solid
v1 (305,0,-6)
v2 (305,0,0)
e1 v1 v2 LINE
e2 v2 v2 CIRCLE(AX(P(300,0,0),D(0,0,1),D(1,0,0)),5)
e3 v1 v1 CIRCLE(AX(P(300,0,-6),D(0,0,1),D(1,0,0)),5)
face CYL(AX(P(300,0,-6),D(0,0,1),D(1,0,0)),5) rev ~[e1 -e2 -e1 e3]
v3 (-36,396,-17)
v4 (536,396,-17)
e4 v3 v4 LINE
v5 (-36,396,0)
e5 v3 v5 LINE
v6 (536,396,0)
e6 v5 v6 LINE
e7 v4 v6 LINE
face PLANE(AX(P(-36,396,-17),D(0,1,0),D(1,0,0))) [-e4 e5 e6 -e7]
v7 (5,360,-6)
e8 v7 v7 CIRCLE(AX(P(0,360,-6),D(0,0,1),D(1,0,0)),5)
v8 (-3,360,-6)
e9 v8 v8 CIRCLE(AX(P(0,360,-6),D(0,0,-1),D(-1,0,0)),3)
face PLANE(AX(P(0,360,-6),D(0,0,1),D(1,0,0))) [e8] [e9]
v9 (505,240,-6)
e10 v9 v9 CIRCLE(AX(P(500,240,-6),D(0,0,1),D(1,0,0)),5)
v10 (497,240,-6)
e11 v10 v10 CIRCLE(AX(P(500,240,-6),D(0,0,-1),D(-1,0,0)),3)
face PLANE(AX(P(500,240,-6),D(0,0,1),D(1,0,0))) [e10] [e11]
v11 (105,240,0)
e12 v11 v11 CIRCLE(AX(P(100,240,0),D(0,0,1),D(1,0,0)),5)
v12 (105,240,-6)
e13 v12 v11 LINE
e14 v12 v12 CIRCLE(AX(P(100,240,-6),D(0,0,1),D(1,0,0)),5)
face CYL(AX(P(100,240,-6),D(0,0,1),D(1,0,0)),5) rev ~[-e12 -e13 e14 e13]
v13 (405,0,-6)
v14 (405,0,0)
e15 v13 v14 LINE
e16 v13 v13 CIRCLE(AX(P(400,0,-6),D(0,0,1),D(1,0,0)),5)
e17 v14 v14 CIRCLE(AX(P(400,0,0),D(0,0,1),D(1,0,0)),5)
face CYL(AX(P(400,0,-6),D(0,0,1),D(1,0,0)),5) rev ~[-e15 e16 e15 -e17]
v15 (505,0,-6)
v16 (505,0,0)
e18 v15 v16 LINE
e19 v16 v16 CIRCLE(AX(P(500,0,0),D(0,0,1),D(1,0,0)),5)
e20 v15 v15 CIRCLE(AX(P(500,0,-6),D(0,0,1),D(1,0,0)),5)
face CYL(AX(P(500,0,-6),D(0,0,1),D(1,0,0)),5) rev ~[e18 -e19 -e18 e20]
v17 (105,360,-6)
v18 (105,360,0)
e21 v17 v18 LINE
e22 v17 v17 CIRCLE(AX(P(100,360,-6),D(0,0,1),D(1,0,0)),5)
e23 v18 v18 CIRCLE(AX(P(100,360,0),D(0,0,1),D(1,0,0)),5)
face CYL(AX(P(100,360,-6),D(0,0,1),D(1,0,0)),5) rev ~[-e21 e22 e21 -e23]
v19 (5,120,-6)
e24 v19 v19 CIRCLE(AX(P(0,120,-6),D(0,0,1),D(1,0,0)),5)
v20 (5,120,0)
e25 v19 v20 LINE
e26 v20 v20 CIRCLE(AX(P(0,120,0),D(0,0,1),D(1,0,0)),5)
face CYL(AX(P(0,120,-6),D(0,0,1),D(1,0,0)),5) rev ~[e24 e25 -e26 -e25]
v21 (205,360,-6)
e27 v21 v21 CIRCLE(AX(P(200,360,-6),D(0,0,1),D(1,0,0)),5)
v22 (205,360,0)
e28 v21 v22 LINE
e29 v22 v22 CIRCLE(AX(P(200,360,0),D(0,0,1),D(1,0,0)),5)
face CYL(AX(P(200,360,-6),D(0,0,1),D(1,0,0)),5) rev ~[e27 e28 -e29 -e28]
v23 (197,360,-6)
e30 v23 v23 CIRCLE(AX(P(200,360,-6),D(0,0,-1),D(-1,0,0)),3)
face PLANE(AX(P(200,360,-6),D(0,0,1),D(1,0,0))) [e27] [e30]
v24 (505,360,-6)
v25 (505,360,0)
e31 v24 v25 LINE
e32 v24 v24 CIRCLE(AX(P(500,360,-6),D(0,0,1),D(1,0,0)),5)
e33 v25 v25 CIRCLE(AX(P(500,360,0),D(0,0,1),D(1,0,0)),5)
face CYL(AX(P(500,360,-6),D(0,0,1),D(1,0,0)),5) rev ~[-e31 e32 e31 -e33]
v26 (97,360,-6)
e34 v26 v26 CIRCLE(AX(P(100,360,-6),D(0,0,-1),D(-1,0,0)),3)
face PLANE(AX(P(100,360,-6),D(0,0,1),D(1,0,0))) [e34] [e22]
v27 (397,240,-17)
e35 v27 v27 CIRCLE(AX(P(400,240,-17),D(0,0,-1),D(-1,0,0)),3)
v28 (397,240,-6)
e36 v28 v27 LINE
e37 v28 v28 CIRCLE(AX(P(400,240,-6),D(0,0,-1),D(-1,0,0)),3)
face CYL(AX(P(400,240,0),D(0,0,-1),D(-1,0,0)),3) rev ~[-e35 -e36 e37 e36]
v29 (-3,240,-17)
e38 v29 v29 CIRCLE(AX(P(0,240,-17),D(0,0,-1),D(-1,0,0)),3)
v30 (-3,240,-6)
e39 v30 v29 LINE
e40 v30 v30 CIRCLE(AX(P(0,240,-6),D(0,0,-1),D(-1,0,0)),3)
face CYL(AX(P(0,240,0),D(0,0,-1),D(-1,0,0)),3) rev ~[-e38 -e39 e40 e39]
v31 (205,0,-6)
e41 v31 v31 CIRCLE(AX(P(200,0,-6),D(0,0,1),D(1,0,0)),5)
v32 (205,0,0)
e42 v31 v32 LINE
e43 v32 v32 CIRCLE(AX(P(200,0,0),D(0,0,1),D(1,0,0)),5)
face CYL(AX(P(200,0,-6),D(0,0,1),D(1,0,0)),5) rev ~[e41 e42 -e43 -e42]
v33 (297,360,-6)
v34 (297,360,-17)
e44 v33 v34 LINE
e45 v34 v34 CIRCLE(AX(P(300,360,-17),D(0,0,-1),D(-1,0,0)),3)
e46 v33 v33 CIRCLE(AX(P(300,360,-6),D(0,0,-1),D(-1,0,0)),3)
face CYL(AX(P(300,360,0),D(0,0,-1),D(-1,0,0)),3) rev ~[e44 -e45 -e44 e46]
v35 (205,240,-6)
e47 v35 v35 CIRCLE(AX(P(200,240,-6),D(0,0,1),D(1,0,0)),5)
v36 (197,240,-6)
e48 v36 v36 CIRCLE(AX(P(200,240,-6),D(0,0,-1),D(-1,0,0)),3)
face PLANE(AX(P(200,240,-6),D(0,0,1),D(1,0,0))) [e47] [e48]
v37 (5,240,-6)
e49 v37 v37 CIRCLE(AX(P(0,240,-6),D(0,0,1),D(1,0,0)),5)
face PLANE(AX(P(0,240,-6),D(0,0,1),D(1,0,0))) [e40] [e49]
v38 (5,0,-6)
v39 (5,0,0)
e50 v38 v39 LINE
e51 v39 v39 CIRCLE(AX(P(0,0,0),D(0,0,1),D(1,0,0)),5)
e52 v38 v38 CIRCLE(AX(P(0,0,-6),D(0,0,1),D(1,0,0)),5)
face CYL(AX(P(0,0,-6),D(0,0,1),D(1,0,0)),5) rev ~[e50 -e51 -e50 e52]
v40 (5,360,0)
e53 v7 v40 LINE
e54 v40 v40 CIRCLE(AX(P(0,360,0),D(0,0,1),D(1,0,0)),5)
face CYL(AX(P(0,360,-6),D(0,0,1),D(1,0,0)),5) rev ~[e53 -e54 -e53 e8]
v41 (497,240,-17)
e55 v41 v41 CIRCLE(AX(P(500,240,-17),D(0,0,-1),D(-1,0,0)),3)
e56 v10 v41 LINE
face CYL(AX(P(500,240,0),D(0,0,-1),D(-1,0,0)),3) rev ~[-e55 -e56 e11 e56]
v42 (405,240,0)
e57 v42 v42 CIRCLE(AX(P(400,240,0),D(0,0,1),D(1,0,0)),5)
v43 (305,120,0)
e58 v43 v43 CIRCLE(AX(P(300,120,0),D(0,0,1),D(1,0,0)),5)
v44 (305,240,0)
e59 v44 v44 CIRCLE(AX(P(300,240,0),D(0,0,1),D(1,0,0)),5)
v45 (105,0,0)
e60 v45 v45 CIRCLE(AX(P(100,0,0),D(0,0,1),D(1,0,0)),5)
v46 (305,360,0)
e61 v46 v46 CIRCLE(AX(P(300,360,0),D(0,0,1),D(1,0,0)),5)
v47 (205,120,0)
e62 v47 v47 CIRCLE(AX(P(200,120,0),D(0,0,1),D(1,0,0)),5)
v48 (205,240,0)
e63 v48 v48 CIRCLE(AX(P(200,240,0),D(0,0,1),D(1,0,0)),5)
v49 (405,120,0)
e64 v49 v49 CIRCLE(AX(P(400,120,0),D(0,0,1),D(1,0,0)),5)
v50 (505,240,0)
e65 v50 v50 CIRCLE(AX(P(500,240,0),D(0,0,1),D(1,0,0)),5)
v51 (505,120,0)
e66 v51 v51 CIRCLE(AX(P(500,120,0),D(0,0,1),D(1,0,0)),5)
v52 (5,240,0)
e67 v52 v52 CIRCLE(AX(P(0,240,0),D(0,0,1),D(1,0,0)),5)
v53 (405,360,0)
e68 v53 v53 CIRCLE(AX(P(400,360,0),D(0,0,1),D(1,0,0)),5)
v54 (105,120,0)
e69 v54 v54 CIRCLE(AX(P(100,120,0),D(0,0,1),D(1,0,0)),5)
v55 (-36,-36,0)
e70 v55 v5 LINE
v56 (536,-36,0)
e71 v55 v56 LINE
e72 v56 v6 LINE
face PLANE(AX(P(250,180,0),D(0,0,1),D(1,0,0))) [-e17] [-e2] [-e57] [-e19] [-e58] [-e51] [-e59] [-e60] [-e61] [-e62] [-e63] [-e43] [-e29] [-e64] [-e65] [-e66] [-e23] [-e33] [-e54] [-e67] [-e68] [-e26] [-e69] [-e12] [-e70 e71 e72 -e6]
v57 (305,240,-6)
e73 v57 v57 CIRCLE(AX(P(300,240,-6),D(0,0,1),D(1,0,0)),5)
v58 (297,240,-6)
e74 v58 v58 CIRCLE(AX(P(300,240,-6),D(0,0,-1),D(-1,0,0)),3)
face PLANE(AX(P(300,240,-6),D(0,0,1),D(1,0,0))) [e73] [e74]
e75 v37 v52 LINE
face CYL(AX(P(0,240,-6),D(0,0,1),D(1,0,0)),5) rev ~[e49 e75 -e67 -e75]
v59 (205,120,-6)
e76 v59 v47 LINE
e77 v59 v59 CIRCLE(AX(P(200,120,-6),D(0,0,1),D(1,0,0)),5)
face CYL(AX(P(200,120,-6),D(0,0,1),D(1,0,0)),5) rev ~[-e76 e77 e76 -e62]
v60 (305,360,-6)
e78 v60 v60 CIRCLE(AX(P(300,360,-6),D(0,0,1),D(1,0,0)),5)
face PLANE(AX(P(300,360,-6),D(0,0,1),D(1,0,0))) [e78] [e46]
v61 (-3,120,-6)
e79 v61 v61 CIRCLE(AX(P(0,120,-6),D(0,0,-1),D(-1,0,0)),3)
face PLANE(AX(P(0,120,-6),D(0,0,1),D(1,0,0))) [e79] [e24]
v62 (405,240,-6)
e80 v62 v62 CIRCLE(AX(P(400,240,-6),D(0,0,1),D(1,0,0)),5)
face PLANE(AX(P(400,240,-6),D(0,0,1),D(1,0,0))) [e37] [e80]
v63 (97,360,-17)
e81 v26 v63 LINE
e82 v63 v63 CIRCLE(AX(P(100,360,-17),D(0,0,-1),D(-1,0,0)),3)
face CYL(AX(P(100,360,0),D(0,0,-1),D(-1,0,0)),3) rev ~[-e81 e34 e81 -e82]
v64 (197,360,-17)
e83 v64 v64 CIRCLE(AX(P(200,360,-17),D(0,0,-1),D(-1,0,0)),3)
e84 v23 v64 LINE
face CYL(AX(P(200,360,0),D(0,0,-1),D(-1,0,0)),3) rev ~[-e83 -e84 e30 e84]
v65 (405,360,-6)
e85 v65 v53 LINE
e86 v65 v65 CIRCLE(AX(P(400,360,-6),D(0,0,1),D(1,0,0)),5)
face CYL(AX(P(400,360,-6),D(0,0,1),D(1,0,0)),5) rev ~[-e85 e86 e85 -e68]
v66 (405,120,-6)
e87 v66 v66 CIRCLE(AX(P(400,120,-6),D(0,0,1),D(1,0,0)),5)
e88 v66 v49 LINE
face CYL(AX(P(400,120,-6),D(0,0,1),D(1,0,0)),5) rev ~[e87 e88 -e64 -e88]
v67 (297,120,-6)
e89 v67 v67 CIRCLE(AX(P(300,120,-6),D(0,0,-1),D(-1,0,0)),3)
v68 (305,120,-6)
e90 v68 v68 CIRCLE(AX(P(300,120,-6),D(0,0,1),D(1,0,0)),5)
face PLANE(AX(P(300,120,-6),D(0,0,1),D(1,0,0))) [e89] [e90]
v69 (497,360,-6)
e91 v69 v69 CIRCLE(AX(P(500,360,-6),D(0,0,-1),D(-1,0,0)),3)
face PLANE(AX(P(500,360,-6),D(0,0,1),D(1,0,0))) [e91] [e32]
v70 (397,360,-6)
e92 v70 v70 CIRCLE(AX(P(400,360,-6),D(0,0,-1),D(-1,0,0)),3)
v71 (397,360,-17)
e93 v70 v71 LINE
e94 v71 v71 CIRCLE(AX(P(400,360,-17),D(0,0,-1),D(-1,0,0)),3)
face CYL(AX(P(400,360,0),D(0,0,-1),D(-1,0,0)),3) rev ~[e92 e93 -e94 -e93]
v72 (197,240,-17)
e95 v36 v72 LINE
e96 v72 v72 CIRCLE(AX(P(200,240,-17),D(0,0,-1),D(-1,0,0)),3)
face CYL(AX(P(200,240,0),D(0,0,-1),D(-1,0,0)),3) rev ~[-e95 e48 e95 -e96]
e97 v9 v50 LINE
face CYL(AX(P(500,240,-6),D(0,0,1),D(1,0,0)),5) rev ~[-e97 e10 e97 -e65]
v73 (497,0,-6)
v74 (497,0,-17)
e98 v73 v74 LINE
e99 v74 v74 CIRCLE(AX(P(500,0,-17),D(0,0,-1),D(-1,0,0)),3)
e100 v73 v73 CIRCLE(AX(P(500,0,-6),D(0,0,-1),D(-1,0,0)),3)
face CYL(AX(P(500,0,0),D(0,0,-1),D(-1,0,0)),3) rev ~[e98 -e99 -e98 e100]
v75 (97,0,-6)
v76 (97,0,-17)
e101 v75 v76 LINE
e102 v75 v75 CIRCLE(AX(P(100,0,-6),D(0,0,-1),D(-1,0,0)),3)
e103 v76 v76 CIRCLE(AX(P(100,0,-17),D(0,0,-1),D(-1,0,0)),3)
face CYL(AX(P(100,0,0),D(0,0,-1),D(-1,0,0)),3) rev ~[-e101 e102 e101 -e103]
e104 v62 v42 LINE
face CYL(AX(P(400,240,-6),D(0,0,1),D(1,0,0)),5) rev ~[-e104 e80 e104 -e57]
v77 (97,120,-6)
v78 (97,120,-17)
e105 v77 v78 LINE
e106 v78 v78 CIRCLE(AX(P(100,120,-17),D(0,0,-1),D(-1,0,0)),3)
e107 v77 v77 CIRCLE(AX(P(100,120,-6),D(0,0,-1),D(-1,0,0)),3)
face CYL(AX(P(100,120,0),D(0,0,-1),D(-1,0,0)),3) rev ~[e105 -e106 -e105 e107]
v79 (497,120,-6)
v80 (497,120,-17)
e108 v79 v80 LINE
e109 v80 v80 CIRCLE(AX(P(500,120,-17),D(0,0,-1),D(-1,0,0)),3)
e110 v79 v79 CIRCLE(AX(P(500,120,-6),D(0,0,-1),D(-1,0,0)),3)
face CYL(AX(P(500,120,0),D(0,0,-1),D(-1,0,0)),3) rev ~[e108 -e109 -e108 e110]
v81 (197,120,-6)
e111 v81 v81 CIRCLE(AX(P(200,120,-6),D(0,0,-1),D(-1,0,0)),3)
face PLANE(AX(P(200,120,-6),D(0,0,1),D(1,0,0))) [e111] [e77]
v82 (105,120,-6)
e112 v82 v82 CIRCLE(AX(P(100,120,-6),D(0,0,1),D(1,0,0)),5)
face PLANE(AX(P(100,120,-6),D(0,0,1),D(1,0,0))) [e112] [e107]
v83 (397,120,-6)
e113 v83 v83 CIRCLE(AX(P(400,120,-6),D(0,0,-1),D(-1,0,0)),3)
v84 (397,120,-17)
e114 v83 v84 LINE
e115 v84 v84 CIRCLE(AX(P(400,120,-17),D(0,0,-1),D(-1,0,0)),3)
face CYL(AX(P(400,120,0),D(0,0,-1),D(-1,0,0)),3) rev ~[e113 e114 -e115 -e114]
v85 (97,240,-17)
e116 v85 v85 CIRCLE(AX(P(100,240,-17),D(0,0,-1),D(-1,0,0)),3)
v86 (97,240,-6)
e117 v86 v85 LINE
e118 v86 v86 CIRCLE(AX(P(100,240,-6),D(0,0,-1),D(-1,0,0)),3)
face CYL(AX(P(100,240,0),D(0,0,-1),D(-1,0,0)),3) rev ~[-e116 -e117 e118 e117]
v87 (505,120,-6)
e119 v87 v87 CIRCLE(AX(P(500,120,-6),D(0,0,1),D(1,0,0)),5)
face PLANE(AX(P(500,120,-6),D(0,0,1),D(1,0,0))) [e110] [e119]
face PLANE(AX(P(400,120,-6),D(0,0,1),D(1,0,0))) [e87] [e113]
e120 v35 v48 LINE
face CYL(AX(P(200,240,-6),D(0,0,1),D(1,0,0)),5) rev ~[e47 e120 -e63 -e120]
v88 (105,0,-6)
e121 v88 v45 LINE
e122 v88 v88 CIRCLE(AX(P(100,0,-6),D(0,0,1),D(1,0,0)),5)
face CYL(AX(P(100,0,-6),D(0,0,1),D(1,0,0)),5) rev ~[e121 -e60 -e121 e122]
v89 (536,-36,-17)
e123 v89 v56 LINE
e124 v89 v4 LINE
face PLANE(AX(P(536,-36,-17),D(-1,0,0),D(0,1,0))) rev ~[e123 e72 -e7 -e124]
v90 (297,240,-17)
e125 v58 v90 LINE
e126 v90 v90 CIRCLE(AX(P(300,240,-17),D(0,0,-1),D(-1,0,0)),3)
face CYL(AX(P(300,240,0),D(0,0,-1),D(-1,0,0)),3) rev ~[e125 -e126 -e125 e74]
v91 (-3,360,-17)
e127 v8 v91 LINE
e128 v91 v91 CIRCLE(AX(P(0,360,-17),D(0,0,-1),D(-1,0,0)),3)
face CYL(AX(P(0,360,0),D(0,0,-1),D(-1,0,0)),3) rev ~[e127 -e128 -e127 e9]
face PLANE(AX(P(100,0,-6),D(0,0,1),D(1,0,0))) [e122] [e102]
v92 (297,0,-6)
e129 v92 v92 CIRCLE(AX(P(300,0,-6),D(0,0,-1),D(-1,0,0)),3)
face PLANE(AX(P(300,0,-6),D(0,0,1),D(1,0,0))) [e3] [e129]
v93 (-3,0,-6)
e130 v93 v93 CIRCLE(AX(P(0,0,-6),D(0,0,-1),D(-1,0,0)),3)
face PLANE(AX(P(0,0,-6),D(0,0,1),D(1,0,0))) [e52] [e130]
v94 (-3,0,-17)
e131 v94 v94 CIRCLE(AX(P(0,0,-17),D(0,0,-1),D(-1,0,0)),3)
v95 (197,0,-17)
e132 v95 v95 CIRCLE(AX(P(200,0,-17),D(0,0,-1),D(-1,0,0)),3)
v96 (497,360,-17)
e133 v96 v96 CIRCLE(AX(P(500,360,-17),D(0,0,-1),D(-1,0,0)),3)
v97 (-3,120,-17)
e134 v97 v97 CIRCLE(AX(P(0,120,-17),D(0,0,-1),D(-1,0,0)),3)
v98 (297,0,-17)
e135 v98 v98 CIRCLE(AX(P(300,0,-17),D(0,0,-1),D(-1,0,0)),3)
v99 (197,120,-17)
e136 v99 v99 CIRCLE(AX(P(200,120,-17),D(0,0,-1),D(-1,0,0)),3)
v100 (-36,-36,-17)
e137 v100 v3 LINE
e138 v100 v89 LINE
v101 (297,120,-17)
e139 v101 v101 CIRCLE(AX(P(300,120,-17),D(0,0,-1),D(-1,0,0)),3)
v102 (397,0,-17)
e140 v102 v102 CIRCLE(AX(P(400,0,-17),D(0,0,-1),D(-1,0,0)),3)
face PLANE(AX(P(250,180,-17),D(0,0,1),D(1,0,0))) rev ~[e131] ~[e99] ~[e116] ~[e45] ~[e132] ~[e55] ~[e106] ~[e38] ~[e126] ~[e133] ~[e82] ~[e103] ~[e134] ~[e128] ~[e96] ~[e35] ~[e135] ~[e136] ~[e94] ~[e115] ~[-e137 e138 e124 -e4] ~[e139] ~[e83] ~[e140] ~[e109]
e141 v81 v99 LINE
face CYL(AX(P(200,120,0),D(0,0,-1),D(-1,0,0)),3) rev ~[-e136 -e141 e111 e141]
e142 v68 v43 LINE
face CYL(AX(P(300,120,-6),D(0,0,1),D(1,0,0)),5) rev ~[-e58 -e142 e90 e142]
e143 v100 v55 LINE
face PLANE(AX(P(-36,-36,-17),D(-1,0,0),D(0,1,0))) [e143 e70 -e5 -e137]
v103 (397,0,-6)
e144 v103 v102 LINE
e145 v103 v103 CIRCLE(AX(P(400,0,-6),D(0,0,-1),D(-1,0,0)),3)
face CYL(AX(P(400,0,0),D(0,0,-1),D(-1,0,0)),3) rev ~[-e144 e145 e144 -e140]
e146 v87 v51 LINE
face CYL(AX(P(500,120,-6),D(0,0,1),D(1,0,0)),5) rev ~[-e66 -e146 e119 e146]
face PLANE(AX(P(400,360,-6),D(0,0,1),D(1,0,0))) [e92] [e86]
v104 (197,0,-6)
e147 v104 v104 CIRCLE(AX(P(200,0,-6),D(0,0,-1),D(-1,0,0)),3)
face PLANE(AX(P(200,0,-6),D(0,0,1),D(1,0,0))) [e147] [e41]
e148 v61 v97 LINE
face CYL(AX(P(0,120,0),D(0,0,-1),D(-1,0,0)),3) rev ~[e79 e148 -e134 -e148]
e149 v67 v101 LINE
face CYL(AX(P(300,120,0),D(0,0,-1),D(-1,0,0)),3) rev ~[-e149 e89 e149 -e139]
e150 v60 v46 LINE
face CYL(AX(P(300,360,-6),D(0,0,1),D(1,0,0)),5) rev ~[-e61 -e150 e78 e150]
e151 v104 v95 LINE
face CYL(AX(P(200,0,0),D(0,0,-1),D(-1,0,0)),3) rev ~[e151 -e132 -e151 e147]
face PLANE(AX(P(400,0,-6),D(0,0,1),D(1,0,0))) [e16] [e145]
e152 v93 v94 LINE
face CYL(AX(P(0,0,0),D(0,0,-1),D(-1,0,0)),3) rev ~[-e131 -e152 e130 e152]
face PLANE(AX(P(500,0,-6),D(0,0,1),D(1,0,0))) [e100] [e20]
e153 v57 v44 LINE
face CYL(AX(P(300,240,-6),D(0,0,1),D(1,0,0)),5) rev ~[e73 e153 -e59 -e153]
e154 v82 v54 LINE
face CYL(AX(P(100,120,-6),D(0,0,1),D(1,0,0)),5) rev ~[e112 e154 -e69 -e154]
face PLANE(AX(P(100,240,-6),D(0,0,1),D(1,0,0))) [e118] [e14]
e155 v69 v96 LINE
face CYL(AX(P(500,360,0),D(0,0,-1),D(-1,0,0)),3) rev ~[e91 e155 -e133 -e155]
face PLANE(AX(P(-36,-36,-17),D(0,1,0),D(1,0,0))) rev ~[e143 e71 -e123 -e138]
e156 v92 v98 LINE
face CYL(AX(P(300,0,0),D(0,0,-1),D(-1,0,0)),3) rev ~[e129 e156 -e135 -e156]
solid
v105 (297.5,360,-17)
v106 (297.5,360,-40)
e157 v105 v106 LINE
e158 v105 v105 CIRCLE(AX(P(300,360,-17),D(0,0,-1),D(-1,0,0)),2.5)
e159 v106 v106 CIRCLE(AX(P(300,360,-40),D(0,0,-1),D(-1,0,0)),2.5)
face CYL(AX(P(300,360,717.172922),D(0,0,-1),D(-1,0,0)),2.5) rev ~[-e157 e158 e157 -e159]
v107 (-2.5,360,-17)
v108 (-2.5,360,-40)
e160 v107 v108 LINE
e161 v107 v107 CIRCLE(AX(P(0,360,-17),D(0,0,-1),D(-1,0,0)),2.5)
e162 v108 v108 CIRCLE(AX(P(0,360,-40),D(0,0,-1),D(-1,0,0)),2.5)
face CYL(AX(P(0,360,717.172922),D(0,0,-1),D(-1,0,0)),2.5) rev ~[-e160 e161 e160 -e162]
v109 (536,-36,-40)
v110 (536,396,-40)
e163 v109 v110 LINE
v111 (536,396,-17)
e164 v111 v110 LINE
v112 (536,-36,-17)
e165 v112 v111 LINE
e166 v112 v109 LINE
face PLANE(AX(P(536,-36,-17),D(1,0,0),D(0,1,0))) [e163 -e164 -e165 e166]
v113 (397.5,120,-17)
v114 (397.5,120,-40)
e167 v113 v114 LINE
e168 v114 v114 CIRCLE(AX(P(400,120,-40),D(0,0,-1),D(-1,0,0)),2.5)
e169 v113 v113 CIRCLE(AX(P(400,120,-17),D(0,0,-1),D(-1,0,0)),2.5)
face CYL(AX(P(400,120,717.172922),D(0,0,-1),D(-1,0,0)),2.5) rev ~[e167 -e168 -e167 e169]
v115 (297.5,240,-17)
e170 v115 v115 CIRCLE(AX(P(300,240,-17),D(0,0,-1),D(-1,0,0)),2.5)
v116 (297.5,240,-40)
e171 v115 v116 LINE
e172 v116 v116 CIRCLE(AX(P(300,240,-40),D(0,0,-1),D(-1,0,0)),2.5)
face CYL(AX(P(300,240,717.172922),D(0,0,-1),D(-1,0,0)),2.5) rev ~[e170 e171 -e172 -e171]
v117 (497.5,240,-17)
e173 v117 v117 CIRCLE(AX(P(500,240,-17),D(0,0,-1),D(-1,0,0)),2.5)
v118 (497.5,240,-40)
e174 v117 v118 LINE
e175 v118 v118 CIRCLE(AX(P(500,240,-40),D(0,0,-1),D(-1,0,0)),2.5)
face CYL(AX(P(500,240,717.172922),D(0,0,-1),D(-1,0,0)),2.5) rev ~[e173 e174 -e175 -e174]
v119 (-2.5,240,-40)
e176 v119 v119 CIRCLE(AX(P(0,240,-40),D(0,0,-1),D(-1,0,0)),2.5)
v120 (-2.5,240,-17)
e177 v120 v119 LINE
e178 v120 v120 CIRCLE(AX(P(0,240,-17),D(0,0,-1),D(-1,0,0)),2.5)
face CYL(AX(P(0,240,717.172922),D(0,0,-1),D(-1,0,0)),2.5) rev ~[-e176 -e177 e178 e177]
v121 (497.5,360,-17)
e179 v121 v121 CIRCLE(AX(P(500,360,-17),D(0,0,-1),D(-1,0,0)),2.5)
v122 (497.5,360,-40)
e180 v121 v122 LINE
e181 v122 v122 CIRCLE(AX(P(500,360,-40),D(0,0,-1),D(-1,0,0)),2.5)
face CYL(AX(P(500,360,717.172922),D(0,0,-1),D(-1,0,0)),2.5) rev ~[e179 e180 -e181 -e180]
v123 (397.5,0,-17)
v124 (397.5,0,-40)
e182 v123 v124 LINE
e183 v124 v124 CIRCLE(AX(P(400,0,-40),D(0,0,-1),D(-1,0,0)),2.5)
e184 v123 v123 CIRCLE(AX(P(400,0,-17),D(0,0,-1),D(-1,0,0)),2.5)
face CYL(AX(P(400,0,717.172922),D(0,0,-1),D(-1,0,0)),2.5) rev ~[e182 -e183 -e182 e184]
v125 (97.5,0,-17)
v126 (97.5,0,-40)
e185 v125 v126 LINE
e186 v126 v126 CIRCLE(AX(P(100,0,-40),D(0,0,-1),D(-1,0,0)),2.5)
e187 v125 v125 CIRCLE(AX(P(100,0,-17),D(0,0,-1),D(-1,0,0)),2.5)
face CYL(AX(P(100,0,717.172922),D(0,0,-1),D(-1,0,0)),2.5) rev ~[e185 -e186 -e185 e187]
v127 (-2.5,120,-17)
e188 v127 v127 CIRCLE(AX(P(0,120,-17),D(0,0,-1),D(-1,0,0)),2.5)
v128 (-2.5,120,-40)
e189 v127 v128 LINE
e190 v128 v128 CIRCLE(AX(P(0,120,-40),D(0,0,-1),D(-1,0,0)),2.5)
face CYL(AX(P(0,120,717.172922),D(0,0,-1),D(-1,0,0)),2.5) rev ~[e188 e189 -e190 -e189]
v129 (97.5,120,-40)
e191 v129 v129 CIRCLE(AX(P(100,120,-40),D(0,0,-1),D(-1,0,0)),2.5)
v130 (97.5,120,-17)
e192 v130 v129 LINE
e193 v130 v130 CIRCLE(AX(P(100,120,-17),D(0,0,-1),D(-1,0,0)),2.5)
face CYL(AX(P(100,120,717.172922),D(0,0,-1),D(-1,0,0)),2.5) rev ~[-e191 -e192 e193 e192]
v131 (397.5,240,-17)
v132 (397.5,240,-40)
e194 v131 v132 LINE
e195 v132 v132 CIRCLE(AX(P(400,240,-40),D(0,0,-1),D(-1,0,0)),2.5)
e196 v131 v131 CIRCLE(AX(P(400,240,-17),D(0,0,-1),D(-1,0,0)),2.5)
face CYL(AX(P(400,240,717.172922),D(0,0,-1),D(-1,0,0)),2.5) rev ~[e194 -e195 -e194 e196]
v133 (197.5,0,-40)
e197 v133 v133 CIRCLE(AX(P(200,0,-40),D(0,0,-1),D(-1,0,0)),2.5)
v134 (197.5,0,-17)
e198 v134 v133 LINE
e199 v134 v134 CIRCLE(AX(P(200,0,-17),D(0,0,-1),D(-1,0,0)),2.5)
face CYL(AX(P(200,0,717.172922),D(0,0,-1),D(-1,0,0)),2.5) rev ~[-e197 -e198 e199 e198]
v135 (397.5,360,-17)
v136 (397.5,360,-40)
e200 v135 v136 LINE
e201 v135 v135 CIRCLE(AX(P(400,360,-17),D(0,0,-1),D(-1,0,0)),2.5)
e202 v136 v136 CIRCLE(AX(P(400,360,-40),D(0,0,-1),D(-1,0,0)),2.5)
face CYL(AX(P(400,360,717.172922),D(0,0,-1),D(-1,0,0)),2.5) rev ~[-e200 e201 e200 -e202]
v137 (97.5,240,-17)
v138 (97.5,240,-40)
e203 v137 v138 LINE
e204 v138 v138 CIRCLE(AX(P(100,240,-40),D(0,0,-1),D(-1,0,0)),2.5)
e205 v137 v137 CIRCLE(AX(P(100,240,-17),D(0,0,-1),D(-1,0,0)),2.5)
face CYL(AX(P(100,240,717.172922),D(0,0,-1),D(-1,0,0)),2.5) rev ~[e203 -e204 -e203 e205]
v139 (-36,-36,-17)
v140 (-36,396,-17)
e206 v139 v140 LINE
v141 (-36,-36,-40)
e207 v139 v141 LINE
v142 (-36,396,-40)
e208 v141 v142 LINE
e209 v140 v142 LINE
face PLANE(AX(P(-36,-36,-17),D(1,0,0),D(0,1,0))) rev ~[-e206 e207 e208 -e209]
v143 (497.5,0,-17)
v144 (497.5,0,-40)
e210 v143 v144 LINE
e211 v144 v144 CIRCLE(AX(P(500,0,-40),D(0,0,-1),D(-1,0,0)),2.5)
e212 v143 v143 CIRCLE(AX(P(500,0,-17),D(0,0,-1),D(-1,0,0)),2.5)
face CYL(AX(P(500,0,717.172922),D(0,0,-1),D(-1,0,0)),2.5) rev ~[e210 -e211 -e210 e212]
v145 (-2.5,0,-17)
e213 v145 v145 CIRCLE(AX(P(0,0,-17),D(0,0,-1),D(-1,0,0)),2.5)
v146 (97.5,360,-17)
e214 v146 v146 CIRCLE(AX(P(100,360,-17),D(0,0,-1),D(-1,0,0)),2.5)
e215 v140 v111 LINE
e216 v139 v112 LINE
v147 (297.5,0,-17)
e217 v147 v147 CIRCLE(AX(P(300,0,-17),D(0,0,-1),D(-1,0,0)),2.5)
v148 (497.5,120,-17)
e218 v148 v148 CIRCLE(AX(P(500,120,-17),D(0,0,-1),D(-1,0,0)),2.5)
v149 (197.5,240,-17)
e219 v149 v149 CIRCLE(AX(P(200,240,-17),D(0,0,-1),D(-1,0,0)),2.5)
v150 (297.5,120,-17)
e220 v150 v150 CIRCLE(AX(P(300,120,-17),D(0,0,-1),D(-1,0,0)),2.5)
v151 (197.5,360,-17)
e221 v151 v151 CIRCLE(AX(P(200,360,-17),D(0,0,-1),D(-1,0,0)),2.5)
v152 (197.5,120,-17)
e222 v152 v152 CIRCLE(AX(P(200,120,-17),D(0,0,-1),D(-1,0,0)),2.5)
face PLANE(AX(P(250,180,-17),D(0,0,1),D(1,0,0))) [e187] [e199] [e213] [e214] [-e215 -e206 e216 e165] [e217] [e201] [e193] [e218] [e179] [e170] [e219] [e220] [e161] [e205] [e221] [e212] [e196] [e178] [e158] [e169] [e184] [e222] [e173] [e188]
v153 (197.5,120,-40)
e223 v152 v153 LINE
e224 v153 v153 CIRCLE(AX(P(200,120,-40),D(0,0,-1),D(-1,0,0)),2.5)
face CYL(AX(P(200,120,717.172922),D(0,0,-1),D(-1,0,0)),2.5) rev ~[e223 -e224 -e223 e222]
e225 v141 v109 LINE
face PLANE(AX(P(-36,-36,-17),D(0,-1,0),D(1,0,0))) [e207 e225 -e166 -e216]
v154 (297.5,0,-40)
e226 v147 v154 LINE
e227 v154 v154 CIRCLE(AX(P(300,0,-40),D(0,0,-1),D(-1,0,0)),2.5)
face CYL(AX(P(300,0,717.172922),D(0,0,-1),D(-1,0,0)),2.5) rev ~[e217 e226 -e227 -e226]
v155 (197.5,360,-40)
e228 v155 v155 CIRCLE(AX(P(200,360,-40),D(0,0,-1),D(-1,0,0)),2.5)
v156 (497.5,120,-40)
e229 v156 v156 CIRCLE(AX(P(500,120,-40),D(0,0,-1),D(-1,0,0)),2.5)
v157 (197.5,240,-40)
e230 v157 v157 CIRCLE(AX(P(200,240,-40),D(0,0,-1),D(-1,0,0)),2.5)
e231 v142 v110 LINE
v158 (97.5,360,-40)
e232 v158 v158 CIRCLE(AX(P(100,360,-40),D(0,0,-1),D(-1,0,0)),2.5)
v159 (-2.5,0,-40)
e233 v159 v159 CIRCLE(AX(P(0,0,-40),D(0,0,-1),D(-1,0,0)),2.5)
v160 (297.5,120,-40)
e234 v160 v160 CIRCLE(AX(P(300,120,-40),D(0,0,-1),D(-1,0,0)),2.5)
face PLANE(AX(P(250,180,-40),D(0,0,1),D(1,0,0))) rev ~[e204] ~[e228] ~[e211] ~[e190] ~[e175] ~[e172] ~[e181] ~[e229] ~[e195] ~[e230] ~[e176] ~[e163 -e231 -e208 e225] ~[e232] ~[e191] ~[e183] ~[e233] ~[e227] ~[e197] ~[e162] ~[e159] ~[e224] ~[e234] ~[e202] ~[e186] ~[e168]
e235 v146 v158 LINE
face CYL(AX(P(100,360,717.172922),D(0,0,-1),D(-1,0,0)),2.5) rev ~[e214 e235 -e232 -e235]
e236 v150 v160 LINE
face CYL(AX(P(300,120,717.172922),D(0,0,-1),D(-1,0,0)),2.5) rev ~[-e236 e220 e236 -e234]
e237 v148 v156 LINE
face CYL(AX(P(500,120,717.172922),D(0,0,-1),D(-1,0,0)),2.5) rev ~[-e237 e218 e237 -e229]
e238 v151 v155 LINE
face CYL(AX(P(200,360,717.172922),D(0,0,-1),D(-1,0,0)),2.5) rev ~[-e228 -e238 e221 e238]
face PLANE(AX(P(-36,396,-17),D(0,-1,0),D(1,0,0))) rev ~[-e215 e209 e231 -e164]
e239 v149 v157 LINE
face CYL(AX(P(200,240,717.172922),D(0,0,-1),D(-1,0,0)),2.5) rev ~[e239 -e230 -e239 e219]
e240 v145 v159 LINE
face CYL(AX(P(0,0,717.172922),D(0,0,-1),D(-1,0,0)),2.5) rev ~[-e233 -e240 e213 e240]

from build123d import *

# Parameters (mm, degrees)
F2_START       = -17
F1_W           = 572
F1_H           = 432
F1_W_2         = 500
F1_H_2         = 360
F2_DEPTH       = 23
F3_DEPTH       = 17
F4_D           = 5
F5_D           = 6
F5_CBORE_D     = 10
F5_CBORE_DEPTH = 6


with BuildPart() as f2:
    # F1 (on Top) → F2 (new body)
    with BuildSketch(Plane.XY.offset(F2_START)):
        with Locations((250, 180)):
            Rectangle(F1_W, F1_H)
        with Locations((250, 180)):
            Rectangle(F1_W_2, F1_H_2, mode=Mode.SUBTRACT)
        with Locations((250, 180)):
            Rectangle(F1_W_2, F1_H_2)
    extrude(amount=-F2_DEPTH)


with BuildPart() as f3:
    # F3 (new, through all): a face of the model
    f3_faces = [f2.part.faces().sort_by_distance(p)[0] for p in [
        (250, 180, -17),
    ]]
    extrude(f3_faces, amount=F3_DEPTH)

    # F5 (through all)
    with Locations(Plane.XY):
        with Locations((0, 120), (0, 240), (300, 240), (100, 360), (500, 120), (400, 120), (0, 360), (400, 240), (200, 240), (500, 0), (400, 360), (100, 120), (500, 360), (100, 240), (400, 0), (300, 360), (0, 0), (200, 0), (100, 0), (300, 120), (200, 120), (300, 0), (500, 240), (200, 360)):
            CounterBoreHole(F5_D / 2, F5_CBORE_D / 2, F5_CBORE_DEPTH)


with BuildPart() as f2_1:
    add(f2.part)

    # F4 (through all)
    with Locations(Plane.XY):
        with Locations((100, 360), (300, 120), (500, 0), (300, 360), (100, 120), (200, 240), (500, 360), (300, 0), (400, 0), (200, 0), (500, 240), (200, 120), (200, 360), (0, 240), (100, 0), (400, 120), (100, 240), (0, 120), (500, 120), (400, 240), (300, 240), (0, 360), (0, 0), (400, 360)):
            Hole(F4_D / 2)


solid = Compound([f3.part, f2_1.part])
